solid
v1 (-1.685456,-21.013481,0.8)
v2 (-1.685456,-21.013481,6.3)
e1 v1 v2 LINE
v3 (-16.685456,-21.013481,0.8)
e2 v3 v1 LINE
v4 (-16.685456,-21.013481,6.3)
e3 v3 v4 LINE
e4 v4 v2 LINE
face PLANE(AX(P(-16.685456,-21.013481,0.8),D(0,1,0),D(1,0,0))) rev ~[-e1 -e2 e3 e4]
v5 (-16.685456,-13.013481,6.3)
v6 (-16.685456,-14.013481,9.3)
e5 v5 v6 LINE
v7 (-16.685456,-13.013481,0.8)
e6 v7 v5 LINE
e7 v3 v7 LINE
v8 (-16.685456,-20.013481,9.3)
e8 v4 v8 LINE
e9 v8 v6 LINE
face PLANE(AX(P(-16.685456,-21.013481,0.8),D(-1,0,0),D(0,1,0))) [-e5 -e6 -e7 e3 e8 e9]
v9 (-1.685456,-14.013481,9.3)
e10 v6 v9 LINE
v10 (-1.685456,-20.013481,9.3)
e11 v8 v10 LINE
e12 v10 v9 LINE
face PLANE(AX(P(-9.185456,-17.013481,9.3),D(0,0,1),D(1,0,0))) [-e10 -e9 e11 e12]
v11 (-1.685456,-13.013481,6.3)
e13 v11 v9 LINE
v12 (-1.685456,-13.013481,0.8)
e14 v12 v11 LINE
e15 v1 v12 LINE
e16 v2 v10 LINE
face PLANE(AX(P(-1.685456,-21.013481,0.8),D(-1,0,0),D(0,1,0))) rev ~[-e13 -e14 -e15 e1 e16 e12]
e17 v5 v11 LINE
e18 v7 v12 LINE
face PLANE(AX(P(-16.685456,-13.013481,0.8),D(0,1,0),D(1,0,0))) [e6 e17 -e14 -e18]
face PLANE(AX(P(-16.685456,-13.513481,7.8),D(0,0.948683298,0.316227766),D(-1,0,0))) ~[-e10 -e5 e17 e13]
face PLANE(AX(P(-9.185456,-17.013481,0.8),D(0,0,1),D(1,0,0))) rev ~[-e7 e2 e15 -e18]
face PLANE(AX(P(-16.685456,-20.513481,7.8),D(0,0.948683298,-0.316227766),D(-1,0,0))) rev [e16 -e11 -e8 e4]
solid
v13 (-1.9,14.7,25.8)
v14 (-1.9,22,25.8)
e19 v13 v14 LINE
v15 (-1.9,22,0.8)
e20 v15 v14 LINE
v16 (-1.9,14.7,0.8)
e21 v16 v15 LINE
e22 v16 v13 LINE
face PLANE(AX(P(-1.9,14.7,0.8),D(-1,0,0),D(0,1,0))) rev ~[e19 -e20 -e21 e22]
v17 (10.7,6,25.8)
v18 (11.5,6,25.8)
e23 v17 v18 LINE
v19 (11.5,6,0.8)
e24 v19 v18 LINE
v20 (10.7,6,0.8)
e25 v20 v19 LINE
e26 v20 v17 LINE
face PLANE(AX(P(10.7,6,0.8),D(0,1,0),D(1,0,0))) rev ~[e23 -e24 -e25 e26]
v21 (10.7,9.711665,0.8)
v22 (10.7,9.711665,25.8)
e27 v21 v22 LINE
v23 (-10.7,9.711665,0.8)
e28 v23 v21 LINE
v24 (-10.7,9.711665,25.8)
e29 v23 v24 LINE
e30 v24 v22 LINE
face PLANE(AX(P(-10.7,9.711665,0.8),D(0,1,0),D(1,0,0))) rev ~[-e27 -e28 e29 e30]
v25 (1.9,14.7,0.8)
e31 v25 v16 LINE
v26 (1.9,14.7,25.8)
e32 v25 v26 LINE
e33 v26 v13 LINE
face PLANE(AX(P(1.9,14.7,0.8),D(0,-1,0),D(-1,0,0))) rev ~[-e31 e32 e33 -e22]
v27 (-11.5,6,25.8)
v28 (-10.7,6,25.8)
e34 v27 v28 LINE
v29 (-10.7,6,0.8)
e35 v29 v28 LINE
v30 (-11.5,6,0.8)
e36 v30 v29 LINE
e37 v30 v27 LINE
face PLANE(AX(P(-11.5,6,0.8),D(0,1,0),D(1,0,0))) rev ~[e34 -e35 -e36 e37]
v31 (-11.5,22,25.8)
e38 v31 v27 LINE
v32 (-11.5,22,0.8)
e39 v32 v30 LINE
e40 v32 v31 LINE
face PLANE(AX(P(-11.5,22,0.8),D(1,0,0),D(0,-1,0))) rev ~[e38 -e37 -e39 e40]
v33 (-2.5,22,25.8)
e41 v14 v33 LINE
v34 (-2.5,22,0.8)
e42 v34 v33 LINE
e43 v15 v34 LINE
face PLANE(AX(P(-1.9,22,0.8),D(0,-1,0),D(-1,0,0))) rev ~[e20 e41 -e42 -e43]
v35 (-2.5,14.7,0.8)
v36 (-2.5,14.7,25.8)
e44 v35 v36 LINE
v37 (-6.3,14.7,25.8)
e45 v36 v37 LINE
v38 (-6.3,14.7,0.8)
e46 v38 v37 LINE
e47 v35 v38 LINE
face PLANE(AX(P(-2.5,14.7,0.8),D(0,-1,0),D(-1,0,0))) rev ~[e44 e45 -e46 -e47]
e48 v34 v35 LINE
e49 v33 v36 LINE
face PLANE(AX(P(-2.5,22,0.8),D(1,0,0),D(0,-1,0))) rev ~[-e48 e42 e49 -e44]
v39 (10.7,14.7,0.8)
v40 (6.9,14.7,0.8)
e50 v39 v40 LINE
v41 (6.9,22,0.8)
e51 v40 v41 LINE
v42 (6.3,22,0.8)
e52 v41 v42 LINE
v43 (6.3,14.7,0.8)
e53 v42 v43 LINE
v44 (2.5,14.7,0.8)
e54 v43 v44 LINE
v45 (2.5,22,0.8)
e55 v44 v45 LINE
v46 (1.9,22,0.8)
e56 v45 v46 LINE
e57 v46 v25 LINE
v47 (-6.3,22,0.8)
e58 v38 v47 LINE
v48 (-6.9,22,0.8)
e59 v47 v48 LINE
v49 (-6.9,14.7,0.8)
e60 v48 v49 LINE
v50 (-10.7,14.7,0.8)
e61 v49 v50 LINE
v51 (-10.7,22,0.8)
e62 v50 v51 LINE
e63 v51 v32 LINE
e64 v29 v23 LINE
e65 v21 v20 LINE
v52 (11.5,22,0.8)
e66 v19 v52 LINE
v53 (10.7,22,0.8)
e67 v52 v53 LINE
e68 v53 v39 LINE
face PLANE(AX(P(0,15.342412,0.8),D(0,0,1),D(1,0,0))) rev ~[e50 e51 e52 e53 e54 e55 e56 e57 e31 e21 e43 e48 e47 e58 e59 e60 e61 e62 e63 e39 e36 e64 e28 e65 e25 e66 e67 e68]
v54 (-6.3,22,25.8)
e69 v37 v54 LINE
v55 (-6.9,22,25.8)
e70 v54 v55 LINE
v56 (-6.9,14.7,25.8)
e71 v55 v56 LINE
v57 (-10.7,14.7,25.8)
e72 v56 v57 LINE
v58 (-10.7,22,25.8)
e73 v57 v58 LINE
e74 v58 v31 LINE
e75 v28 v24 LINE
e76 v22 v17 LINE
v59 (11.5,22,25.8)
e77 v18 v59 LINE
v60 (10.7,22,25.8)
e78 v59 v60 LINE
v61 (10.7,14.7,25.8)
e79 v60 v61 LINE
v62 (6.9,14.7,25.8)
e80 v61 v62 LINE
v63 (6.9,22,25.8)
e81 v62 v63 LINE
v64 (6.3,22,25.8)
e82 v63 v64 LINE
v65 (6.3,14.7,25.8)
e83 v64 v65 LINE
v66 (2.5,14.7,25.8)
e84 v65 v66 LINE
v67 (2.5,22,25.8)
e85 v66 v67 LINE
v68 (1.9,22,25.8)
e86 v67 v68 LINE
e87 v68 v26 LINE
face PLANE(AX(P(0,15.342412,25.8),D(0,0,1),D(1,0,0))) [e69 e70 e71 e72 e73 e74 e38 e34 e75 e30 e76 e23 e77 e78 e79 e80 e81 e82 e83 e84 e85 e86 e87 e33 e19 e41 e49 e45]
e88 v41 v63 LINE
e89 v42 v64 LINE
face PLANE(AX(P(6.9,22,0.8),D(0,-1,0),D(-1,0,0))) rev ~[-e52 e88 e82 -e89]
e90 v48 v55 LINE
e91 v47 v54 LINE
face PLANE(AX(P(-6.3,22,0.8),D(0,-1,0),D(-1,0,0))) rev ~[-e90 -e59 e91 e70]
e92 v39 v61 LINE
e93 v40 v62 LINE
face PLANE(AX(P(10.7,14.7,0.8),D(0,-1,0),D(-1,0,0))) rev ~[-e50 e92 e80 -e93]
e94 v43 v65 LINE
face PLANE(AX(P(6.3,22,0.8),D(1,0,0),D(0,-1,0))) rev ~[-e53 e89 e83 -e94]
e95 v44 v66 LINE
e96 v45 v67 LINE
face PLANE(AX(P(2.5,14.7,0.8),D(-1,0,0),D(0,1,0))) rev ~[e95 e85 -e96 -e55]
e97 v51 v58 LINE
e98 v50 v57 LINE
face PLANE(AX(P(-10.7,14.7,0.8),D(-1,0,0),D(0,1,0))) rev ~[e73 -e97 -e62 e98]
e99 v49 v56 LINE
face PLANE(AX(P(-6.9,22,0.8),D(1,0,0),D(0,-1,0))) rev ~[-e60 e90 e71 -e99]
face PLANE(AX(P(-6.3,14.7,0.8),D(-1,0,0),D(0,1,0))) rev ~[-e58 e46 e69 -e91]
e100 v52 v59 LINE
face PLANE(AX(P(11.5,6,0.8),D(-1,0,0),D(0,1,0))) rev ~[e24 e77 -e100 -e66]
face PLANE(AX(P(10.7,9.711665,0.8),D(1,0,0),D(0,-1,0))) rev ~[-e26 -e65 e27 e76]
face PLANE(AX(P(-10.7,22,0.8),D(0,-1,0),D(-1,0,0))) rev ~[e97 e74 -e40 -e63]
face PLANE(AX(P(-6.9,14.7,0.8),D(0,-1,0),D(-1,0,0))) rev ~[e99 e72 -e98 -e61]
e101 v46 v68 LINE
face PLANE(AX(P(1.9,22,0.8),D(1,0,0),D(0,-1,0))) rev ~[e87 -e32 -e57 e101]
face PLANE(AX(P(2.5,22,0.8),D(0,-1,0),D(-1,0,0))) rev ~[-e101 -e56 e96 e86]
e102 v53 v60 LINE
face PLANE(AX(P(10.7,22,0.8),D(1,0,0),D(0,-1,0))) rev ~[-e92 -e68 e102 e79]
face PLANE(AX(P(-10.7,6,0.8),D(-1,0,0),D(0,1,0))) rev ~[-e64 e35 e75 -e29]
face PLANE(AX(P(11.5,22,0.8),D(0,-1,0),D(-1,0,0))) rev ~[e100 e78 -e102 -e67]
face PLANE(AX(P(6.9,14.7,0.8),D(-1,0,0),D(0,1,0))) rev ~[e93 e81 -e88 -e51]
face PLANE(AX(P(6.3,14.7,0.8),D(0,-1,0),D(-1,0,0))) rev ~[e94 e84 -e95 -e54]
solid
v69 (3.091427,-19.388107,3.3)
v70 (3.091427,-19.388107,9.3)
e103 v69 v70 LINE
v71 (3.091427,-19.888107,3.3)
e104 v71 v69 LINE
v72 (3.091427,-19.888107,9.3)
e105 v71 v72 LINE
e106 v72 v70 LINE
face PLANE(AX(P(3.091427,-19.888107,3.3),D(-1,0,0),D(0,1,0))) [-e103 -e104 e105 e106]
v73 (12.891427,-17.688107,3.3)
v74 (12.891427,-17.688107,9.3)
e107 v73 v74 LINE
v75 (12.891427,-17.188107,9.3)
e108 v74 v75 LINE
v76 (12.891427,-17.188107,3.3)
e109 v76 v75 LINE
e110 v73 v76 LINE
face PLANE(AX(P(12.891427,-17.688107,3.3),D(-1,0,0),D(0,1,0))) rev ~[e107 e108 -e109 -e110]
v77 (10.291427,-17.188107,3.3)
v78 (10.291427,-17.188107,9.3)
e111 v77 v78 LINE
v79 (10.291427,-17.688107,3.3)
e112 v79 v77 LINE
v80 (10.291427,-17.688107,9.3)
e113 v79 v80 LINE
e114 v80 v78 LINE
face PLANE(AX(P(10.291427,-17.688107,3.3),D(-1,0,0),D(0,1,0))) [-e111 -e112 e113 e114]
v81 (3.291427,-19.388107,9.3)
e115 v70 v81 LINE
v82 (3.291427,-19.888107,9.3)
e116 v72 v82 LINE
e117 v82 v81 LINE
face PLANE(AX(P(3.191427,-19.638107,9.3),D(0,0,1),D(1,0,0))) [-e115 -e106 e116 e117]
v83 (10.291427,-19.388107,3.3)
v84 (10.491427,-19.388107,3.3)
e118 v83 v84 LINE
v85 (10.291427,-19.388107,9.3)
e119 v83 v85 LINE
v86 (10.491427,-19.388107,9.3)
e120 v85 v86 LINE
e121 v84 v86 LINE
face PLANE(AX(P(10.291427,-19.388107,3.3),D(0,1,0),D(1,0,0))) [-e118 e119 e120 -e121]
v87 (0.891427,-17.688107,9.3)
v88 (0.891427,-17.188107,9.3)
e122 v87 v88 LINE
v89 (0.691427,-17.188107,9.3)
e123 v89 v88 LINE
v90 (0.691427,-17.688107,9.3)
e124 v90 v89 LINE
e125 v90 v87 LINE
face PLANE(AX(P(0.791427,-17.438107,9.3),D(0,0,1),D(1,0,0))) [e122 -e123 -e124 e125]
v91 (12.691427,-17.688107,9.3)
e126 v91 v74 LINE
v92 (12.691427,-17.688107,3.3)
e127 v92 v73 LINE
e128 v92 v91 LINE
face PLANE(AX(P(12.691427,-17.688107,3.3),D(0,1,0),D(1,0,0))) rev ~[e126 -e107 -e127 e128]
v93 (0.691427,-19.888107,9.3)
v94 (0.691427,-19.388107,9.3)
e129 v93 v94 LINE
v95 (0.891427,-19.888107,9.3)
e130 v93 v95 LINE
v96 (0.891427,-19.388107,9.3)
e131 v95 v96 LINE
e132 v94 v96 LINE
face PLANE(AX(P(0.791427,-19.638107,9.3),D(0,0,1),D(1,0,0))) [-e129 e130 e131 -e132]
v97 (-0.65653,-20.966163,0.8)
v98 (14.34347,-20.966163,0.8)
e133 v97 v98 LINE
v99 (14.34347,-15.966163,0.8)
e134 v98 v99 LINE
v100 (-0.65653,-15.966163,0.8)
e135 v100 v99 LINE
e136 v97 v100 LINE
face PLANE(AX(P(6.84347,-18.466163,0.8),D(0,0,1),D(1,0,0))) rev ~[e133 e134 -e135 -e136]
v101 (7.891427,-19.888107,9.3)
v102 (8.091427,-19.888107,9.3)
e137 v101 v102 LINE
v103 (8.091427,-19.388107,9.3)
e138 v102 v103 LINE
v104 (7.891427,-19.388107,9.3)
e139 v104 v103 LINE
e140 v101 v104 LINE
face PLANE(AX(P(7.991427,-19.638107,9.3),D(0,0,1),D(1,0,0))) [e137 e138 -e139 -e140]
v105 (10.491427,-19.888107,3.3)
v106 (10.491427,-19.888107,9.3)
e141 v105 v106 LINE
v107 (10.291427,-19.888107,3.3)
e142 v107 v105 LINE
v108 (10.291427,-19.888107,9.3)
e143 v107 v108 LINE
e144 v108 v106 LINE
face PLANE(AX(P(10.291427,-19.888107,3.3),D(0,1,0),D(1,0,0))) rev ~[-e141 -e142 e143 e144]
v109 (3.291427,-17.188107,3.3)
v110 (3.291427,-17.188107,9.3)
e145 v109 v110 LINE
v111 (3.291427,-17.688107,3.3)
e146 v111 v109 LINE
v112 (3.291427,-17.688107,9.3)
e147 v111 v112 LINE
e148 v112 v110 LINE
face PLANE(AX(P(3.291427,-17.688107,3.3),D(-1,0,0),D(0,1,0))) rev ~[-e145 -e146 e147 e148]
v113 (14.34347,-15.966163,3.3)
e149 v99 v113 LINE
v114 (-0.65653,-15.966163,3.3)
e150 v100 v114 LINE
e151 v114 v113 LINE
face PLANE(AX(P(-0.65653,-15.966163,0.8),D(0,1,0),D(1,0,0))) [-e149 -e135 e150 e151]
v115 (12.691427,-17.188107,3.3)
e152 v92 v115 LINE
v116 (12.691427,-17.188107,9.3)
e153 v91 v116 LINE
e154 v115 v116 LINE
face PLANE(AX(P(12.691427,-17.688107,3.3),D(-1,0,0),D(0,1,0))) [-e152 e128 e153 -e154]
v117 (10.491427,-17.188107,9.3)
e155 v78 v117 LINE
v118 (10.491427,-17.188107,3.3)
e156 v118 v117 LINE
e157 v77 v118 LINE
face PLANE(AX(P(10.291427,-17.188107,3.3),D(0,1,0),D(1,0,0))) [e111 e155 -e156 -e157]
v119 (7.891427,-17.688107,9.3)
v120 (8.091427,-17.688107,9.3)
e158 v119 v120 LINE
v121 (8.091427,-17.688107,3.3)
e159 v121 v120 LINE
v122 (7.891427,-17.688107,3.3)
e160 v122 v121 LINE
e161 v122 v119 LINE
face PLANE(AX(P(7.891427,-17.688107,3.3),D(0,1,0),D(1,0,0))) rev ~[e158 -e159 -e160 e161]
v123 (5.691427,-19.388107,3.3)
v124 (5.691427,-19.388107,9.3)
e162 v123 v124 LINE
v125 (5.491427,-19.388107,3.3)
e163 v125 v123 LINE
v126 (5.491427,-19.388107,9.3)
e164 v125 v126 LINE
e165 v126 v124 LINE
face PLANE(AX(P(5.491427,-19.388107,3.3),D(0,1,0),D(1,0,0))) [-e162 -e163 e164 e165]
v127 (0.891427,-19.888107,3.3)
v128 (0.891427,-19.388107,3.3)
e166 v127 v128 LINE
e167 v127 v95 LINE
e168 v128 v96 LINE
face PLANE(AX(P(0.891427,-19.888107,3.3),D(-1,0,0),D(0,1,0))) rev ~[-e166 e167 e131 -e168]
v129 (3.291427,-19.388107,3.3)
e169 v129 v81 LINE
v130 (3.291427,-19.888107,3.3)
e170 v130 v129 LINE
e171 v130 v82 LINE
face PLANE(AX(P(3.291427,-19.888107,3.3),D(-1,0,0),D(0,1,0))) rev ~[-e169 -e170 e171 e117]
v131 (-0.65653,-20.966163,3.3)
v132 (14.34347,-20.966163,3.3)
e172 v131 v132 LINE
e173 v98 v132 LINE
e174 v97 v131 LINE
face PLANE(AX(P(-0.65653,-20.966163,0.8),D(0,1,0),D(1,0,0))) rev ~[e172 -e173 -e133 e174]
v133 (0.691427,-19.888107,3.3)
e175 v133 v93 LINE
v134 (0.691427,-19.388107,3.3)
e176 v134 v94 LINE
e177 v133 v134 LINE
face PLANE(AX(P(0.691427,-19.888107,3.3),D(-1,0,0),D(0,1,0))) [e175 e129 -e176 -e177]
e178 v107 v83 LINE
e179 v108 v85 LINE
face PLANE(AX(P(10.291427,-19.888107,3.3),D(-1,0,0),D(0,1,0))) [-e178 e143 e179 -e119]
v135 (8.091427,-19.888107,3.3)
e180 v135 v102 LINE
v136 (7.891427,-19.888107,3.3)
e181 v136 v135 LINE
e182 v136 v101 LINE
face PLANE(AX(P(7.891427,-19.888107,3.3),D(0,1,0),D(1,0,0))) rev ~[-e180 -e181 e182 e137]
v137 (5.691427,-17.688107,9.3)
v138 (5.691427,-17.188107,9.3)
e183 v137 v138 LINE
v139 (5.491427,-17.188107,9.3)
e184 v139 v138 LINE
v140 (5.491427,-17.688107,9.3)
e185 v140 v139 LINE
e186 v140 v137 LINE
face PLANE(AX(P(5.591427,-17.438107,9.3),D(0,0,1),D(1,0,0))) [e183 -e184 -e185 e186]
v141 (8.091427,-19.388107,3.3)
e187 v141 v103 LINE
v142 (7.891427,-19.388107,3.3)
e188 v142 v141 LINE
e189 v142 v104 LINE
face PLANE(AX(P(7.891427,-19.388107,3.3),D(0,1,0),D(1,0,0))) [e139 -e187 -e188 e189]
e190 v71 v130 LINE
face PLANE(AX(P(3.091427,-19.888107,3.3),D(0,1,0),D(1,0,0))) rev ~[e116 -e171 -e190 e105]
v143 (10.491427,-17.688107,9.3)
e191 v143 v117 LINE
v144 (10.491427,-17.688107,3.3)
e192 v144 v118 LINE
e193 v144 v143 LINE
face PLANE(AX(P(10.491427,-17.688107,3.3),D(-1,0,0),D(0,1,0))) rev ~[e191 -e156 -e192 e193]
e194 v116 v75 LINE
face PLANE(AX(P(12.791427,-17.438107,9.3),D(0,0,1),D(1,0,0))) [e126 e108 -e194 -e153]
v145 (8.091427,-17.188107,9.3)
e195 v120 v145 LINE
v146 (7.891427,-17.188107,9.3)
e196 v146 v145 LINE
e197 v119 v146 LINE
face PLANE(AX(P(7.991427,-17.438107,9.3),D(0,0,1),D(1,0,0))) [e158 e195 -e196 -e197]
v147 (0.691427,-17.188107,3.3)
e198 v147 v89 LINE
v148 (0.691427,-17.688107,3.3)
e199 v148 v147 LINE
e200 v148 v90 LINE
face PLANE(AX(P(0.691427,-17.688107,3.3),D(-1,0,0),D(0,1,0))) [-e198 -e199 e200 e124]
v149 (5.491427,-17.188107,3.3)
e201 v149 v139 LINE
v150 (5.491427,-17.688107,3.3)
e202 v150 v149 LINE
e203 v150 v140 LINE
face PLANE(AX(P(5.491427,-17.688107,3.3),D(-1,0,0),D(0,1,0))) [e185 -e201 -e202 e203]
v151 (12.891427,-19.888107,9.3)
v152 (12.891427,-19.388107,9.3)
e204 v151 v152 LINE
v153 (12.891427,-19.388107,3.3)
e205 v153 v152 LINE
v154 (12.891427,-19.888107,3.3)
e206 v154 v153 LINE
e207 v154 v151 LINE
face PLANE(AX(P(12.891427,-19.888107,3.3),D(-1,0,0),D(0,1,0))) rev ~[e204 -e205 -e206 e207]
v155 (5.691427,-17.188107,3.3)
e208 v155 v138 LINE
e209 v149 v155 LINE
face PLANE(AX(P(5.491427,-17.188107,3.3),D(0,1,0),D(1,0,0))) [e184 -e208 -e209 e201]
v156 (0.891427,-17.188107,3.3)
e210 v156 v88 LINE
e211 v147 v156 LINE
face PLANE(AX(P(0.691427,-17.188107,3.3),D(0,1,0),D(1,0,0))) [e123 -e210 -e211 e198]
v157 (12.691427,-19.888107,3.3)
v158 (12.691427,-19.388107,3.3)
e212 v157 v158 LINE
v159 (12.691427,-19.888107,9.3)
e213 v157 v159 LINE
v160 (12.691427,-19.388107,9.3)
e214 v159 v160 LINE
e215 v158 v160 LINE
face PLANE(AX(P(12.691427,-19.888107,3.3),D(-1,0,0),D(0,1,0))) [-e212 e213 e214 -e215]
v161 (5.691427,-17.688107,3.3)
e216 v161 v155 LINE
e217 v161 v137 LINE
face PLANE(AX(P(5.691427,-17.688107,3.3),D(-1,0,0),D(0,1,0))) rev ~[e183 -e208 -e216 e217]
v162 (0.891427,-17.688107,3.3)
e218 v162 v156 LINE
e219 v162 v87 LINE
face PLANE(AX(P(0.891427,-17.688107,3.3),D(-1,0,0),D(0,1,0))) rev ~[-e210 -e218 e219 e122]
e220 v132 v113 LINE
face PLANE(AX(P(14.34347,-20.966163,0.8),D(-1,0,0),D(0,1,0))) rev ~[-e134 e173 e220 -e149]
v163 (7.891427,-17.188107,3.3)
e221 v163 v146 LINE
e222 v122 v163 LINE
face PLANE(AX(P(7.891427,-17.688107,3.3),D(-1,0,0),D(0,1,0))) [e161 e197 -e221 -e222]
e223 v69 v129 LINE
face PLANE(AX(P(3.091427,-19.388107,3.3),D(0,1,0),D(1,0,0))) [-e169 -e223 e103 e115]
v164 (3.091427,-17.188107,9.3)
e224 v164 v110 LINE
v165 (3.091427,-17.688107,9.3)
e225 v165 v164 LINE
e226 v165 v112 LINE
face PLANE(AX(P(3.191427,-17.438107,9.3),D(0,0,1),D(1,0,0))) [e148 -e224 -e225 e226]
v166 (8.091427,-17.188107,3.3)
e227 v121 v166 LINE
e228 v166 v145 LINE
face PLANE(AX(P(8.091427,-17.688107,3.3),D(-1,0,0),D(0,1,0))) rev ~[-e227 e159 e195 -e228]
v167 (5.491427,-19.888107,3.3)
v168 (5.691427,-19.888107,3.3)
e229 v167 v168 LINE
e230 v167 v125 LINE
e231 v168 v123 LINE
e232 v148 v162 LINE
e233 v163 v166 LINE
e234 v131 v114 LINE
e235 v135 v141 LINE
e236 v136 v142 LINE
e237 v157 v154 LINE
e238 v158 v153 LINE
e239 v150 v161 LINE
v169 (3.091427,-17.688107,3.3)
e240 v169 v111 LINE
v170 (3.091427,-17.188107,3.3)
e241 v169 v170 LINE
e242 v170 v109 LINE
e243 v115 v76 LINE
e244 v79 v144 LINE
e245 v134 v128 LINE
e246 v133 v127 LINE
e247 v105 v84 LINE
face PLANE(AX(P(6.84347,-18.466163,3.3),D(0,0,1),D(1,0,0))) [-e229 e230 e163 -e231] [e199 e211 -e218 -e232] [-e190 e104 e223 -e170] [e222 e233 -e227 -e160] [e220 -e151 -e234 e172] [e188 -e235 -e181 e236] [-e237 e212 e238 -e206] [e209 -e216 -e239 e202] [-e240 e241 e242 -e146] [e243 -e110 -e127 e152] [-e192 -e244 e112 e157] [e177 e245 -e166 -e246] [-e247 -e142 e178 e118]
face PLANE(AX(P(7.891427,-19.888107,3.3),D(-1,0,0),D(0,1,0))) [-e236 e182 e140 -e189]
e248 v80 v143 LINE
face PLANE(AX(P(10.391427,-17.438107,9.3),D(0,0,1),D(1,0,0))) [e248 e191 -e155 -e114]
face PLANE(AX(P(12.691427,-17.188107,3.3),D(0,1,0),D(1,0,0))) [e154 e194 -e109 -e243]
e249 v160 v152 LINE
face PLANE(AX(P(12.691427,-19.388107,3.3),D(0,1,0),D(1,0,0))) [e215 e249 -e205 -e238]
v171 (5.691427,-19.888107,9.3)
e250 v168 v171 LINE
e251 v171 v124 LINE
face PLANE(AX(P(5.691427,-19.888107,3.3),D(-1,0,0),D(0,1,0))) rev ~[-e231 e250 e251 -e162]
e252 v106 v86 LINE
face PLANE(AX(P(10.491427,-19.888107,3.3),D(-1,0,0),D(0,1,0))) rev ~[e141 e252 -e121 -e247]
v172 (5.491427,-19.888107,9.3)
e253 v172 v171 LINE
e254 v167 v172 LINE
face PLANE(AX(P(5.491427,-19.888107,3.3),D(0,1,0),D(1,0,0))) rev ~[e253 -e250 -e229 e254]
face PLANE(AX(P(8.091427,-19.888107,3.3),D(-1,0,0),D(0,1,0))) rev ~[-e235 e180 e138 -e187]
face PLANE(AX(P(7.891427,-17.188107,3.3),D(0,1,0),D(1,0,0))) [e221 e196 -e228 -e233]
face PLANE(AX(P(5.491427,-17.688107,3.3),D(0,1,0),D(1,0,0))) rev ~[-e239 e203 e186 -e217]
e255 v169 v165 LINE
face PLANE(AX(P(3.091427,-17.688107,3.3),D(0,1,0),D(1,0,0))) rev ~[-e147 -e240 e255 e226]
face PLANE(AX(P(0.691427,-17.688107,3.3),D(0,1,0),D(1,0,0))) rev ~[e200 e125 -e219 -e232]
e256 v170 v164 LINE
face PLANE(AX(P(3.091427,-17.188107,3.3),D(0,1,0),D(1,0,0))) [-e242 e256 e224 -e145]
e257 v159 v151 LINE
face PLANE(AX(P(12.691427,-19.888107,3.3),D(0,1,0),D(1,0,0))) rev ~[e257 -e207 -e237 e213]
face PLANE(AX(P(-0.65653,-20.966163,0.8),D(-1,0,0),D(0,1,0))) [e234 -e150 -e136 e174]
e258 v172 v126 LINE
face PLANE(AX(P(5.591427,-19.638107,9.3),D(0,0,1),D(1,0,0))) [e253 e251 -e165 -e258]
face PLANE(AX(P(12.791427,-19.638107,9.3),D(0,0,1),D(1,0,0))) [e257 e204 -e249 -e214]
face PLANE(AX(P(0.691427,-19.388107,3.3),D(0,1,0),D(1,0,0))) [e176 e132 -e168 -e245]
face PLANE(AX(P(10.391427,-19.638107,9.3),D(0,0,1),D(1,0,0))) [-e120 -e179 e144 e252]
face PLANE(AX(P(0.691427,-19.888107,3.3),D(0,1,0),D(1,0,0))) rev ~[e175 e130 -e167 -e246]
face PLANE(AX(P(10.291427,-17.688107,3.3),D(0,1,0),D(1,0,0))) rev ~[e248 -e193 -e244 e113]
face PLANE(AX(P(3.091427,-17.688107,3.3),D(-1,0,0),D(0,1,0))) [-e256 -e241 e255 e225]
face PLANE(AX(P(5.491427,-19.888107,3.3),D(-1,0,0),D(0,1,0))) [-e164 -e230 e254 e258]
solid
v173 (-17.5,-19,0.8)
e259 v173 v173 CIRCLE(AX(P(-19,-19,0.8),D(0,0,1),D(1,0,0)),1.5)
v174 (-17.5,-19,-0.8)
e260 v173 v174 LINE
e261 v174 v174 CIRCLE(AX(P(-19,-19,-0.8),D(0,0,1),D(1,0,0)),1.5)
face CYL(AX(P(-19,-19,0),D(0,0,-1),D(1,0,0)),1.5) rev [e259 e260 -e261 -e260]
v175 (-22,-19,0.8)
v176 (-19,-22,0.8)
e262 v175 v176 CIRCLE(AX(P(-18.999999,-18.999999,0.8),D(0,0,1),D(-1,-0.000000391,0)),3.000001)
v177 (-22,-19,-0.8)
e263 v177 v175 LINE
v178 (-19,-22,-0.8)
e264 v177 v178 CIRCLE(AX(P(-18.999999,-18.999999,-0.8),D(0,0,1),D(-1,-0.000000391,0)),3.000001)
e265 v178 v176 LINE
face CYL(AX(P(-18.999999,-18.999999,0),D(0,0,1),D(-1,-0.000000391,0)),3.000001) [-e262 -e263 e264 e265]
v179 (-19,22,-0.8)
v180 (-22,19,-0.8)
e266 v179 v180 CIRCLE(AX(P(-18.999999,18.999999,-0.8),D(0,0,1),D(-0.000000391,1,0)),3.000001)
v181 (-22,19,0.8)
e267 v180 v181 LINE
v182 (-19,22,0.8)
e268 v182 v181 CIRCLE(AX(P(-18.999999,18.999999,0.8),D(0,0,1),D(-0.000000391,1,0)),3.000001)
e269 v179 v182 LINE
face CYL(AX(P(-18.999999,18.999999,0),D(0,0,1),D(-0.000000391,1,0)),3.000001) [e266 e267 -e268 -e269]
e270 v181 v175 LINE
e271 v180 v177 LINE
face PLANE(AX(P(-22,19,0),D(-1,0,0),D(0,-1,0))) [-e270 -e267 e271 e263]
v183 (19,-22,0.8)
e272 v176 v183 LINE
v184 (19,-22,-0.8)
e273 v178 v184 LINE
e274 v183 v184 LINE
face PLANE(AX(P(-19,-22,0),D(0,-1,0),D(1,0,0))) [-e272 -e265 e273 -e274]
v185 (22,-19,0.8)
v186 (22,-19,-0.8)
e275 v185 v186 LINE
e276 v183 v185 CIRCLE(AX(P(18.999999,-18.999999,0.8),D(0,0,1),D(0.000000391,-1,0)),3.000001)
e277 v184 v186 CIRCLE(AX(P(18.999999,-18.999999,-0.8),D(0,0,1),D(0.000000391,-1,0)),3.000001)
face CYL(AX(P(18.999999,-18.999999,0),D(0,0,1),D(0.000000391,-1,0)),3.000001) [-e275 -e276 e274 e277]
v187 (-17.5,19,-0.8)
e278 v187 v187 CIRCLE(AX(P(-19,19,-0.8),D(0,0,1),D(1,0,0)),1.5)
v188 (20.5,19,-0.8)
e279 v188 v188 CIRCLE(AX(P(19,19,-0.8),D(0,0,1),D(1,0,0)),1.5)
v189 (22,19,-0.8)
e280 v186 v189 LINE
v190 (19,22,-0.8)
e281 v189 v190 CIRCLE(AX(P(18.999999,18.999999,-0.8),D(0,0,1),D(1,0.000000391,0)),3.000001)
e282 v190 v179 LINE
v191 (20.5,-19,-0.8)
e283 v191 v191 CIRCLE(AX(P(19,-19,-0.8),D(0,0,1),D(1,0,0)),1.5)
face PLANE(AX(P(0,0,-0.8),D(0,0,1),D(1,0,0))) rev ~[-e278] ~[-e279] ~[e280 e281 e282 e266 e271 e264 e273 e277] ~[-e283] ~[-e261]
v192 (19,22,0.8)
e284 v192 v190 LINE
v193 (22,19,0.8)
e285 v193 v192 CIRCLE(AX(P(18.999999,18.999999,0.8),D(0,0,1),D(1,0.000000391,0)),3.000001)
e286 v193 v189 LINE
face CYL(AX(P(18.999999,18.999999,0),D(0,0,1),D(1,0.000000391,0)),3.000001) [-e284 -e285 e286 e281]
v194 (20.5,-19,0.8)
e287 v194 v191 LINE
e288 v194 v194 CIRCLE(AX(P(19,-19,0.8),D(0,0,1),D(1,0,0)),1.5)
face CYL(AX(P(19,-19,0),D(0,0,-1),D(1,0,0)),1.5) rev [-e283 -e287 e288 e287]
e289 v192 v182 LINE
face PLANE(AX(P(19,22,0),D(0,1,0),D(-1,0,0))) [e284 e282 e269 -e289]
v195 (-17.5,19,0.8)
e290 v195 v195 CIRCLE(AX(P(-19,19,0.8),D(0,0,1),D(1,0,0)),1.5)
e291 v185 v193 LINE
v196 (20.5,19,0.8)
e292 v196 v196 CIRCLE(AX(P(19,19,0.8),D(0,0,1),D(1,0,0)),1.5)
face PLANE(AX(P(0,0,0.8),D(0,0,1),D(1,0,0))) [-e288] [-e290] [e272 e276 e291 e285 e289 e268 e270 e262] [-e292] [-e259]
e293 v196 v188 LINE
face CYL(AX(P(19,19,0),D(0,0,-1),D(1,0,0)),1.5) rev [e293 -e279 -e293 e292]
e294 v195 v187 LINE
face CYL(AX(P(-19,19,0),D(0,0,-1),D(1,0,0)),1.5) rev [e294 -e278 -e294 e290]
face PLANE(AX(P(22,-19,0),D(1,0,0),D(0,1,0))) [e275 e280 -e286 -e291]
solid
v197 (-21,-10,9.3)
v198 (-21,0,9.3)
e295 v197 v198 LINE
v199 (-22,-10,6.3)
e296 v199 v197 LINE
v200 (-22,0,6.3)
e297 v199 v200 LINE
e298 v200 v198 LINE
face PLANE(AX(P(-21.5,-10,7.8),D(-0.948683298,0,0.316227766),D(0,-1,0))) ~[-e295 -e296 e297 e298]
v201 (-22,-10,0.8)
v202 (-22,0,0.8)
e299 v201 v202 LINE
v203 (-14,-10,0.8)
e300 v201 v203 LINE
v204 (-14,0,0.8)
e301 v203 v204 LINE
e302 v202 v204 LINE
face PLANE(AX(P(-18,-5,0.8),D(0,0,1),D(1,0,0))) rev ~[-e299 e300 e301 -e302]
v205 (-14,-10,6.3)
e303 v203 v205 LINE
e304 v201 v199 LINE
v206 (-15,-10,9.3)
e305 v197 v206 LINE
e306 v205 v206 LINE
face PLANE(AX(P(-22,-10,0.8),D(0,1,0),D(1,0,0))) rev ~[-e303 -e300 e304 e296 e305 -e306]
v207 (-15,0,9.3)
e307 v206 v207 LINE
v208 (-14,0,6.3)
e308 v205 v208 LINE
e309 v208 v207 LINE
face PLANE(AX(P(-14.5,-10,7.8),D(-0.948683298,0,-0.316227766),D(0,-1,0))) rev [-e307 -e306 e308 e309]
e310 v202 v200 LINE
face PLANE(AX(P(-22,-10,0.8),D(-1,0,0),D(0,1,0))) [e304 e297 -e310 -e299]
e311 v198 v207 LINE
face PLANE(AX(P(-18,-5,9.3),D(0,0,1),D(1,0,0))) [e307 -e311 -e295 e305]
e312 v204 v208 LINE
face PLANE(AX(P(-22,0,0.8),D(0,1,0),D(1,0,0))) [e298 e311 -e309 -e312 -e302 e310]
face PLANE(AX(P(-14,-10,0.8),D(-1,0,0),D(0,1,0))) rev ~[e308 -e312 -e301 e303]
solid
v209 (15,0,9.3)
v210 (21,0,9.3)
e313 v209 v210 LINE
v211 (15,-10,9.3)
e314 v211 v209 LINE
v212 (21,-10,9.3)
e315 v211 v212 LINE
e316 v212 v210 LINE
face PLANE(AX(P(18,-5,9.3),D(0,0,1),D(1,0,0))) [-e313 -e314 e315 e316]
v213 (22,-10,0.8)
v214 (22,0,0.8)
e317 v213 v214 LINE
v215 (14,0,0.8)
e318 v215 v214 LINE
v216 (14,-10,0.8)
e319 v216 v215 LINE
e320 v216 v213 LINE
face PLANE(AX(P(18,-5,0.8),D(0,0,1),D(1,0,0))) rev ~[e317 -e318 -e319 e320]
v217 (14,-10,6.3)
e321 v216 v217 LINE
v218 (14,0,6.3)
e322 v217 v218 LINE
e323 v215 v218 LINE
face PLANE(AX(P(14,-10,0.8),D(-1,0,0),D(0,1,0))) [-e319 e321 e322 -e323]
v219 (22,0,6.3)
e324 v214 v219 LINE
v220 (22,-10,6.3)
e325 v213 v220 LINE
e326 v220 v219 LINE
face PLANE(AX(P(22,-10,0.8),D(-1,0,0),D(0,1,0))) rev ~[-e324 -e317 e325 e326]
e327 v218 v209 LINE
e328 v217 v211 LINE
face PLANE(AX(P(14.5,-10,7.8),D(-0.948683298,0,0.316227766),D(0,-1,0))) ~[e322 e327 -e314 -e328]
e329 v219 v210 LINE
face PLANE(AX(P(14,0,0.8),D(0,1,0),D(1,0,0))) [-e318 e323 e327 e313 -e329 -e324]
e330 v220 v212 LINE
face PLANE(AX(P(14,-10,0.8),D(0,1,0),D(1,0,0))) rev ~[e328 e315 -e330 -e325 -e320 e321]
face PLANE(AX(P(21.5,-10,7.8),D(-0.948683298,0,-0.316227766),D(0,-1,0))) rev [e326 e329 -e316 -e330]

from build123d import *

# Parameters (mm, degrees)
F0_R      = 1.5
F1_DEPTH  = 0.8
F3_DEPTH  = 25
F4_W      = 15
F4_H      = 8
F4_W_2    = 8
F4_H_2    = 10
F5_DEPTH  = 8.5
F6_SIZE2  = 1
F6_SIZE   = 3
F7_W      = 15
F7_H      = 5
F8_DEPTH  = 2.5
F9_W      = 0.2
F9_H      = 0.5
F10_DEPTH = 6


with BuildPart() as f1:
    # F0 (on Top) → F1 (new body, symmetric)
    with BuildSketch(Plane.XY):
        with BuildLine():
            Line((19, 22), (-19, 22))
            ThreePointArc((-19, 22), (-21.12132, 21.12132), (-22, 19))
            Line((-22, 19), (-22, -19))
            ThreePointArc((-22, -19), (-21.12132, -21.12132), (-19, -22))
            Line((-19, -22), (19, -22))
            ThreePointArc((19, -22), (21.12132, -21.12132), (22, -19))
            Line((22, -19), (22, 19))
            ThreePointArc((22, 19), (21.12132, 21.12132), (19, 22))
        make_face()
        with Locations((-19, -19)):
            Circle(F0_R, mode=Mode.SUBTRACT)
        with Locations((19, -19)):
            Circle(F0_R, mode=Mode.SUBTRACT)
        with Locations((-19, 19)):
            Circle(F0_R, mode=Mode.SUBTRACT)
        with Locations((19, 19)):
            Circle(F0_R, mode=Mode.SUBTRACT)
    extrude(amount=F1_DEPTH, both=True)


with BuildPart() as f3:
    # F2 (on face) → F3 (new body)
    with BuildSketch(Plane.XY.offset(0.8)):
        Polygon((-10.7, 22), (-11.5, 22), (-11.5, 6), (-10.7, 6), (-10.7, 9.711665), (10.7, 9.711665), (10.7, 6), (11.5, 6), (11.5, 22), (10.7, 22), (10.7, 14.7), (6.9, 14.7), (6.9, 22), (6.3, 22), (6.3, 14.7), (2.5, 14.7), (2.5, 22), (1.9, 22), (1.9, 14.7), (-1.9, 14.7), (-1.9, 22), (-2.5, 22), (-2.5, 14.7), (-6.3, 14.7), (-6.3, 22), (-6.9, 22), (-6.9, 14.7), (-10.7, 14.7), align=None)
    extrude(amount=F3_DEPTH)


with BuildPart() as f5:
    # F4 (on face) → F5 (new body)
    with BuildSketch(Plane.XY.offset(0.8)):
        with Locations((-9.185456, -17.013481)):
            Rectangle(F4_W, F4_H)
        with Locations((-18, -5)):
            Rectangle(F4_W_2, F4_H_2)
        with Locations((18, -5)):
            Rectangle(F4_W_2, F4_H_2)
    extrude(amount=F5_DEPTH)

    # F6
    f6_edges = [f5.edges().sort_by_distance(p)[0] for p in [
        (22, -5, 9.3),
        (14, -5, 9.3),
        (-14, -5, 9.3),
        (-9.185456, -21.013481, 9.3),
        (-22, -5, 9.3),
        (-9.185456, -13.013481, 9.3),
    ]]
    chamfer(f6_edges, length=F6_SIZE, length2=F6_SIZE2)


with BuildPart() as f8:
    # F7 (on face) → F8 (new body)
    with BuildSketch(Plane.XY.offset(0.8)):
        with Locations((6.84347, -18.466163)):
            Rectangle(F7_W, F7_H)
    extrude(amount=F8_DEPTH)

    # F9 (on face) → F10 (join)
    with BuildSketch(Plane.XY.offset(3.3)):
        with Locations((0.791427, -19.638107)):
            Rectangle(F9_W, F9_H)
        with Locations((0.791427, -17.438107)):
            Rectangle(F9_W, F9_H)
        with Locations((3.191427, -17.438107)):
            Rectangle(F9_W, F9_H)
        with Locations((3.191427, -19.638107)):
            Rectangle(F9_W, F9_H)
        with Locations((5.591427, -19.638107)):
            Rectangle(F9_W, F9_H)
        with Locations((5.591427, -17.438107)):
            Rectangle(F9_W, F9_H)
        with Locations((7.991427, -17.438107)):
            Rectangle(F9_W, F9_H)
        with Locations((7.991427, -19.638107)):
            Rectangle(F9_W, F9_H)
        with Locations((10.391427, -19.638107)):
            Rectangle(F9_W, F9_H)
        with Locations((10.391427, -17.438107)):
            Rectangle(F9_W, F9_H)
        with Locations((12.791427, -17.438107)):
            Rectangle(F9_W, F9_H)
        with Locations((12.791427, -19.638107)):
            Rectangle(F9_W, F9_H)
    extrude(amount=F10_DEPTH)


solid = Compound([f1.part, f3.part, f5.part, f8.part])
